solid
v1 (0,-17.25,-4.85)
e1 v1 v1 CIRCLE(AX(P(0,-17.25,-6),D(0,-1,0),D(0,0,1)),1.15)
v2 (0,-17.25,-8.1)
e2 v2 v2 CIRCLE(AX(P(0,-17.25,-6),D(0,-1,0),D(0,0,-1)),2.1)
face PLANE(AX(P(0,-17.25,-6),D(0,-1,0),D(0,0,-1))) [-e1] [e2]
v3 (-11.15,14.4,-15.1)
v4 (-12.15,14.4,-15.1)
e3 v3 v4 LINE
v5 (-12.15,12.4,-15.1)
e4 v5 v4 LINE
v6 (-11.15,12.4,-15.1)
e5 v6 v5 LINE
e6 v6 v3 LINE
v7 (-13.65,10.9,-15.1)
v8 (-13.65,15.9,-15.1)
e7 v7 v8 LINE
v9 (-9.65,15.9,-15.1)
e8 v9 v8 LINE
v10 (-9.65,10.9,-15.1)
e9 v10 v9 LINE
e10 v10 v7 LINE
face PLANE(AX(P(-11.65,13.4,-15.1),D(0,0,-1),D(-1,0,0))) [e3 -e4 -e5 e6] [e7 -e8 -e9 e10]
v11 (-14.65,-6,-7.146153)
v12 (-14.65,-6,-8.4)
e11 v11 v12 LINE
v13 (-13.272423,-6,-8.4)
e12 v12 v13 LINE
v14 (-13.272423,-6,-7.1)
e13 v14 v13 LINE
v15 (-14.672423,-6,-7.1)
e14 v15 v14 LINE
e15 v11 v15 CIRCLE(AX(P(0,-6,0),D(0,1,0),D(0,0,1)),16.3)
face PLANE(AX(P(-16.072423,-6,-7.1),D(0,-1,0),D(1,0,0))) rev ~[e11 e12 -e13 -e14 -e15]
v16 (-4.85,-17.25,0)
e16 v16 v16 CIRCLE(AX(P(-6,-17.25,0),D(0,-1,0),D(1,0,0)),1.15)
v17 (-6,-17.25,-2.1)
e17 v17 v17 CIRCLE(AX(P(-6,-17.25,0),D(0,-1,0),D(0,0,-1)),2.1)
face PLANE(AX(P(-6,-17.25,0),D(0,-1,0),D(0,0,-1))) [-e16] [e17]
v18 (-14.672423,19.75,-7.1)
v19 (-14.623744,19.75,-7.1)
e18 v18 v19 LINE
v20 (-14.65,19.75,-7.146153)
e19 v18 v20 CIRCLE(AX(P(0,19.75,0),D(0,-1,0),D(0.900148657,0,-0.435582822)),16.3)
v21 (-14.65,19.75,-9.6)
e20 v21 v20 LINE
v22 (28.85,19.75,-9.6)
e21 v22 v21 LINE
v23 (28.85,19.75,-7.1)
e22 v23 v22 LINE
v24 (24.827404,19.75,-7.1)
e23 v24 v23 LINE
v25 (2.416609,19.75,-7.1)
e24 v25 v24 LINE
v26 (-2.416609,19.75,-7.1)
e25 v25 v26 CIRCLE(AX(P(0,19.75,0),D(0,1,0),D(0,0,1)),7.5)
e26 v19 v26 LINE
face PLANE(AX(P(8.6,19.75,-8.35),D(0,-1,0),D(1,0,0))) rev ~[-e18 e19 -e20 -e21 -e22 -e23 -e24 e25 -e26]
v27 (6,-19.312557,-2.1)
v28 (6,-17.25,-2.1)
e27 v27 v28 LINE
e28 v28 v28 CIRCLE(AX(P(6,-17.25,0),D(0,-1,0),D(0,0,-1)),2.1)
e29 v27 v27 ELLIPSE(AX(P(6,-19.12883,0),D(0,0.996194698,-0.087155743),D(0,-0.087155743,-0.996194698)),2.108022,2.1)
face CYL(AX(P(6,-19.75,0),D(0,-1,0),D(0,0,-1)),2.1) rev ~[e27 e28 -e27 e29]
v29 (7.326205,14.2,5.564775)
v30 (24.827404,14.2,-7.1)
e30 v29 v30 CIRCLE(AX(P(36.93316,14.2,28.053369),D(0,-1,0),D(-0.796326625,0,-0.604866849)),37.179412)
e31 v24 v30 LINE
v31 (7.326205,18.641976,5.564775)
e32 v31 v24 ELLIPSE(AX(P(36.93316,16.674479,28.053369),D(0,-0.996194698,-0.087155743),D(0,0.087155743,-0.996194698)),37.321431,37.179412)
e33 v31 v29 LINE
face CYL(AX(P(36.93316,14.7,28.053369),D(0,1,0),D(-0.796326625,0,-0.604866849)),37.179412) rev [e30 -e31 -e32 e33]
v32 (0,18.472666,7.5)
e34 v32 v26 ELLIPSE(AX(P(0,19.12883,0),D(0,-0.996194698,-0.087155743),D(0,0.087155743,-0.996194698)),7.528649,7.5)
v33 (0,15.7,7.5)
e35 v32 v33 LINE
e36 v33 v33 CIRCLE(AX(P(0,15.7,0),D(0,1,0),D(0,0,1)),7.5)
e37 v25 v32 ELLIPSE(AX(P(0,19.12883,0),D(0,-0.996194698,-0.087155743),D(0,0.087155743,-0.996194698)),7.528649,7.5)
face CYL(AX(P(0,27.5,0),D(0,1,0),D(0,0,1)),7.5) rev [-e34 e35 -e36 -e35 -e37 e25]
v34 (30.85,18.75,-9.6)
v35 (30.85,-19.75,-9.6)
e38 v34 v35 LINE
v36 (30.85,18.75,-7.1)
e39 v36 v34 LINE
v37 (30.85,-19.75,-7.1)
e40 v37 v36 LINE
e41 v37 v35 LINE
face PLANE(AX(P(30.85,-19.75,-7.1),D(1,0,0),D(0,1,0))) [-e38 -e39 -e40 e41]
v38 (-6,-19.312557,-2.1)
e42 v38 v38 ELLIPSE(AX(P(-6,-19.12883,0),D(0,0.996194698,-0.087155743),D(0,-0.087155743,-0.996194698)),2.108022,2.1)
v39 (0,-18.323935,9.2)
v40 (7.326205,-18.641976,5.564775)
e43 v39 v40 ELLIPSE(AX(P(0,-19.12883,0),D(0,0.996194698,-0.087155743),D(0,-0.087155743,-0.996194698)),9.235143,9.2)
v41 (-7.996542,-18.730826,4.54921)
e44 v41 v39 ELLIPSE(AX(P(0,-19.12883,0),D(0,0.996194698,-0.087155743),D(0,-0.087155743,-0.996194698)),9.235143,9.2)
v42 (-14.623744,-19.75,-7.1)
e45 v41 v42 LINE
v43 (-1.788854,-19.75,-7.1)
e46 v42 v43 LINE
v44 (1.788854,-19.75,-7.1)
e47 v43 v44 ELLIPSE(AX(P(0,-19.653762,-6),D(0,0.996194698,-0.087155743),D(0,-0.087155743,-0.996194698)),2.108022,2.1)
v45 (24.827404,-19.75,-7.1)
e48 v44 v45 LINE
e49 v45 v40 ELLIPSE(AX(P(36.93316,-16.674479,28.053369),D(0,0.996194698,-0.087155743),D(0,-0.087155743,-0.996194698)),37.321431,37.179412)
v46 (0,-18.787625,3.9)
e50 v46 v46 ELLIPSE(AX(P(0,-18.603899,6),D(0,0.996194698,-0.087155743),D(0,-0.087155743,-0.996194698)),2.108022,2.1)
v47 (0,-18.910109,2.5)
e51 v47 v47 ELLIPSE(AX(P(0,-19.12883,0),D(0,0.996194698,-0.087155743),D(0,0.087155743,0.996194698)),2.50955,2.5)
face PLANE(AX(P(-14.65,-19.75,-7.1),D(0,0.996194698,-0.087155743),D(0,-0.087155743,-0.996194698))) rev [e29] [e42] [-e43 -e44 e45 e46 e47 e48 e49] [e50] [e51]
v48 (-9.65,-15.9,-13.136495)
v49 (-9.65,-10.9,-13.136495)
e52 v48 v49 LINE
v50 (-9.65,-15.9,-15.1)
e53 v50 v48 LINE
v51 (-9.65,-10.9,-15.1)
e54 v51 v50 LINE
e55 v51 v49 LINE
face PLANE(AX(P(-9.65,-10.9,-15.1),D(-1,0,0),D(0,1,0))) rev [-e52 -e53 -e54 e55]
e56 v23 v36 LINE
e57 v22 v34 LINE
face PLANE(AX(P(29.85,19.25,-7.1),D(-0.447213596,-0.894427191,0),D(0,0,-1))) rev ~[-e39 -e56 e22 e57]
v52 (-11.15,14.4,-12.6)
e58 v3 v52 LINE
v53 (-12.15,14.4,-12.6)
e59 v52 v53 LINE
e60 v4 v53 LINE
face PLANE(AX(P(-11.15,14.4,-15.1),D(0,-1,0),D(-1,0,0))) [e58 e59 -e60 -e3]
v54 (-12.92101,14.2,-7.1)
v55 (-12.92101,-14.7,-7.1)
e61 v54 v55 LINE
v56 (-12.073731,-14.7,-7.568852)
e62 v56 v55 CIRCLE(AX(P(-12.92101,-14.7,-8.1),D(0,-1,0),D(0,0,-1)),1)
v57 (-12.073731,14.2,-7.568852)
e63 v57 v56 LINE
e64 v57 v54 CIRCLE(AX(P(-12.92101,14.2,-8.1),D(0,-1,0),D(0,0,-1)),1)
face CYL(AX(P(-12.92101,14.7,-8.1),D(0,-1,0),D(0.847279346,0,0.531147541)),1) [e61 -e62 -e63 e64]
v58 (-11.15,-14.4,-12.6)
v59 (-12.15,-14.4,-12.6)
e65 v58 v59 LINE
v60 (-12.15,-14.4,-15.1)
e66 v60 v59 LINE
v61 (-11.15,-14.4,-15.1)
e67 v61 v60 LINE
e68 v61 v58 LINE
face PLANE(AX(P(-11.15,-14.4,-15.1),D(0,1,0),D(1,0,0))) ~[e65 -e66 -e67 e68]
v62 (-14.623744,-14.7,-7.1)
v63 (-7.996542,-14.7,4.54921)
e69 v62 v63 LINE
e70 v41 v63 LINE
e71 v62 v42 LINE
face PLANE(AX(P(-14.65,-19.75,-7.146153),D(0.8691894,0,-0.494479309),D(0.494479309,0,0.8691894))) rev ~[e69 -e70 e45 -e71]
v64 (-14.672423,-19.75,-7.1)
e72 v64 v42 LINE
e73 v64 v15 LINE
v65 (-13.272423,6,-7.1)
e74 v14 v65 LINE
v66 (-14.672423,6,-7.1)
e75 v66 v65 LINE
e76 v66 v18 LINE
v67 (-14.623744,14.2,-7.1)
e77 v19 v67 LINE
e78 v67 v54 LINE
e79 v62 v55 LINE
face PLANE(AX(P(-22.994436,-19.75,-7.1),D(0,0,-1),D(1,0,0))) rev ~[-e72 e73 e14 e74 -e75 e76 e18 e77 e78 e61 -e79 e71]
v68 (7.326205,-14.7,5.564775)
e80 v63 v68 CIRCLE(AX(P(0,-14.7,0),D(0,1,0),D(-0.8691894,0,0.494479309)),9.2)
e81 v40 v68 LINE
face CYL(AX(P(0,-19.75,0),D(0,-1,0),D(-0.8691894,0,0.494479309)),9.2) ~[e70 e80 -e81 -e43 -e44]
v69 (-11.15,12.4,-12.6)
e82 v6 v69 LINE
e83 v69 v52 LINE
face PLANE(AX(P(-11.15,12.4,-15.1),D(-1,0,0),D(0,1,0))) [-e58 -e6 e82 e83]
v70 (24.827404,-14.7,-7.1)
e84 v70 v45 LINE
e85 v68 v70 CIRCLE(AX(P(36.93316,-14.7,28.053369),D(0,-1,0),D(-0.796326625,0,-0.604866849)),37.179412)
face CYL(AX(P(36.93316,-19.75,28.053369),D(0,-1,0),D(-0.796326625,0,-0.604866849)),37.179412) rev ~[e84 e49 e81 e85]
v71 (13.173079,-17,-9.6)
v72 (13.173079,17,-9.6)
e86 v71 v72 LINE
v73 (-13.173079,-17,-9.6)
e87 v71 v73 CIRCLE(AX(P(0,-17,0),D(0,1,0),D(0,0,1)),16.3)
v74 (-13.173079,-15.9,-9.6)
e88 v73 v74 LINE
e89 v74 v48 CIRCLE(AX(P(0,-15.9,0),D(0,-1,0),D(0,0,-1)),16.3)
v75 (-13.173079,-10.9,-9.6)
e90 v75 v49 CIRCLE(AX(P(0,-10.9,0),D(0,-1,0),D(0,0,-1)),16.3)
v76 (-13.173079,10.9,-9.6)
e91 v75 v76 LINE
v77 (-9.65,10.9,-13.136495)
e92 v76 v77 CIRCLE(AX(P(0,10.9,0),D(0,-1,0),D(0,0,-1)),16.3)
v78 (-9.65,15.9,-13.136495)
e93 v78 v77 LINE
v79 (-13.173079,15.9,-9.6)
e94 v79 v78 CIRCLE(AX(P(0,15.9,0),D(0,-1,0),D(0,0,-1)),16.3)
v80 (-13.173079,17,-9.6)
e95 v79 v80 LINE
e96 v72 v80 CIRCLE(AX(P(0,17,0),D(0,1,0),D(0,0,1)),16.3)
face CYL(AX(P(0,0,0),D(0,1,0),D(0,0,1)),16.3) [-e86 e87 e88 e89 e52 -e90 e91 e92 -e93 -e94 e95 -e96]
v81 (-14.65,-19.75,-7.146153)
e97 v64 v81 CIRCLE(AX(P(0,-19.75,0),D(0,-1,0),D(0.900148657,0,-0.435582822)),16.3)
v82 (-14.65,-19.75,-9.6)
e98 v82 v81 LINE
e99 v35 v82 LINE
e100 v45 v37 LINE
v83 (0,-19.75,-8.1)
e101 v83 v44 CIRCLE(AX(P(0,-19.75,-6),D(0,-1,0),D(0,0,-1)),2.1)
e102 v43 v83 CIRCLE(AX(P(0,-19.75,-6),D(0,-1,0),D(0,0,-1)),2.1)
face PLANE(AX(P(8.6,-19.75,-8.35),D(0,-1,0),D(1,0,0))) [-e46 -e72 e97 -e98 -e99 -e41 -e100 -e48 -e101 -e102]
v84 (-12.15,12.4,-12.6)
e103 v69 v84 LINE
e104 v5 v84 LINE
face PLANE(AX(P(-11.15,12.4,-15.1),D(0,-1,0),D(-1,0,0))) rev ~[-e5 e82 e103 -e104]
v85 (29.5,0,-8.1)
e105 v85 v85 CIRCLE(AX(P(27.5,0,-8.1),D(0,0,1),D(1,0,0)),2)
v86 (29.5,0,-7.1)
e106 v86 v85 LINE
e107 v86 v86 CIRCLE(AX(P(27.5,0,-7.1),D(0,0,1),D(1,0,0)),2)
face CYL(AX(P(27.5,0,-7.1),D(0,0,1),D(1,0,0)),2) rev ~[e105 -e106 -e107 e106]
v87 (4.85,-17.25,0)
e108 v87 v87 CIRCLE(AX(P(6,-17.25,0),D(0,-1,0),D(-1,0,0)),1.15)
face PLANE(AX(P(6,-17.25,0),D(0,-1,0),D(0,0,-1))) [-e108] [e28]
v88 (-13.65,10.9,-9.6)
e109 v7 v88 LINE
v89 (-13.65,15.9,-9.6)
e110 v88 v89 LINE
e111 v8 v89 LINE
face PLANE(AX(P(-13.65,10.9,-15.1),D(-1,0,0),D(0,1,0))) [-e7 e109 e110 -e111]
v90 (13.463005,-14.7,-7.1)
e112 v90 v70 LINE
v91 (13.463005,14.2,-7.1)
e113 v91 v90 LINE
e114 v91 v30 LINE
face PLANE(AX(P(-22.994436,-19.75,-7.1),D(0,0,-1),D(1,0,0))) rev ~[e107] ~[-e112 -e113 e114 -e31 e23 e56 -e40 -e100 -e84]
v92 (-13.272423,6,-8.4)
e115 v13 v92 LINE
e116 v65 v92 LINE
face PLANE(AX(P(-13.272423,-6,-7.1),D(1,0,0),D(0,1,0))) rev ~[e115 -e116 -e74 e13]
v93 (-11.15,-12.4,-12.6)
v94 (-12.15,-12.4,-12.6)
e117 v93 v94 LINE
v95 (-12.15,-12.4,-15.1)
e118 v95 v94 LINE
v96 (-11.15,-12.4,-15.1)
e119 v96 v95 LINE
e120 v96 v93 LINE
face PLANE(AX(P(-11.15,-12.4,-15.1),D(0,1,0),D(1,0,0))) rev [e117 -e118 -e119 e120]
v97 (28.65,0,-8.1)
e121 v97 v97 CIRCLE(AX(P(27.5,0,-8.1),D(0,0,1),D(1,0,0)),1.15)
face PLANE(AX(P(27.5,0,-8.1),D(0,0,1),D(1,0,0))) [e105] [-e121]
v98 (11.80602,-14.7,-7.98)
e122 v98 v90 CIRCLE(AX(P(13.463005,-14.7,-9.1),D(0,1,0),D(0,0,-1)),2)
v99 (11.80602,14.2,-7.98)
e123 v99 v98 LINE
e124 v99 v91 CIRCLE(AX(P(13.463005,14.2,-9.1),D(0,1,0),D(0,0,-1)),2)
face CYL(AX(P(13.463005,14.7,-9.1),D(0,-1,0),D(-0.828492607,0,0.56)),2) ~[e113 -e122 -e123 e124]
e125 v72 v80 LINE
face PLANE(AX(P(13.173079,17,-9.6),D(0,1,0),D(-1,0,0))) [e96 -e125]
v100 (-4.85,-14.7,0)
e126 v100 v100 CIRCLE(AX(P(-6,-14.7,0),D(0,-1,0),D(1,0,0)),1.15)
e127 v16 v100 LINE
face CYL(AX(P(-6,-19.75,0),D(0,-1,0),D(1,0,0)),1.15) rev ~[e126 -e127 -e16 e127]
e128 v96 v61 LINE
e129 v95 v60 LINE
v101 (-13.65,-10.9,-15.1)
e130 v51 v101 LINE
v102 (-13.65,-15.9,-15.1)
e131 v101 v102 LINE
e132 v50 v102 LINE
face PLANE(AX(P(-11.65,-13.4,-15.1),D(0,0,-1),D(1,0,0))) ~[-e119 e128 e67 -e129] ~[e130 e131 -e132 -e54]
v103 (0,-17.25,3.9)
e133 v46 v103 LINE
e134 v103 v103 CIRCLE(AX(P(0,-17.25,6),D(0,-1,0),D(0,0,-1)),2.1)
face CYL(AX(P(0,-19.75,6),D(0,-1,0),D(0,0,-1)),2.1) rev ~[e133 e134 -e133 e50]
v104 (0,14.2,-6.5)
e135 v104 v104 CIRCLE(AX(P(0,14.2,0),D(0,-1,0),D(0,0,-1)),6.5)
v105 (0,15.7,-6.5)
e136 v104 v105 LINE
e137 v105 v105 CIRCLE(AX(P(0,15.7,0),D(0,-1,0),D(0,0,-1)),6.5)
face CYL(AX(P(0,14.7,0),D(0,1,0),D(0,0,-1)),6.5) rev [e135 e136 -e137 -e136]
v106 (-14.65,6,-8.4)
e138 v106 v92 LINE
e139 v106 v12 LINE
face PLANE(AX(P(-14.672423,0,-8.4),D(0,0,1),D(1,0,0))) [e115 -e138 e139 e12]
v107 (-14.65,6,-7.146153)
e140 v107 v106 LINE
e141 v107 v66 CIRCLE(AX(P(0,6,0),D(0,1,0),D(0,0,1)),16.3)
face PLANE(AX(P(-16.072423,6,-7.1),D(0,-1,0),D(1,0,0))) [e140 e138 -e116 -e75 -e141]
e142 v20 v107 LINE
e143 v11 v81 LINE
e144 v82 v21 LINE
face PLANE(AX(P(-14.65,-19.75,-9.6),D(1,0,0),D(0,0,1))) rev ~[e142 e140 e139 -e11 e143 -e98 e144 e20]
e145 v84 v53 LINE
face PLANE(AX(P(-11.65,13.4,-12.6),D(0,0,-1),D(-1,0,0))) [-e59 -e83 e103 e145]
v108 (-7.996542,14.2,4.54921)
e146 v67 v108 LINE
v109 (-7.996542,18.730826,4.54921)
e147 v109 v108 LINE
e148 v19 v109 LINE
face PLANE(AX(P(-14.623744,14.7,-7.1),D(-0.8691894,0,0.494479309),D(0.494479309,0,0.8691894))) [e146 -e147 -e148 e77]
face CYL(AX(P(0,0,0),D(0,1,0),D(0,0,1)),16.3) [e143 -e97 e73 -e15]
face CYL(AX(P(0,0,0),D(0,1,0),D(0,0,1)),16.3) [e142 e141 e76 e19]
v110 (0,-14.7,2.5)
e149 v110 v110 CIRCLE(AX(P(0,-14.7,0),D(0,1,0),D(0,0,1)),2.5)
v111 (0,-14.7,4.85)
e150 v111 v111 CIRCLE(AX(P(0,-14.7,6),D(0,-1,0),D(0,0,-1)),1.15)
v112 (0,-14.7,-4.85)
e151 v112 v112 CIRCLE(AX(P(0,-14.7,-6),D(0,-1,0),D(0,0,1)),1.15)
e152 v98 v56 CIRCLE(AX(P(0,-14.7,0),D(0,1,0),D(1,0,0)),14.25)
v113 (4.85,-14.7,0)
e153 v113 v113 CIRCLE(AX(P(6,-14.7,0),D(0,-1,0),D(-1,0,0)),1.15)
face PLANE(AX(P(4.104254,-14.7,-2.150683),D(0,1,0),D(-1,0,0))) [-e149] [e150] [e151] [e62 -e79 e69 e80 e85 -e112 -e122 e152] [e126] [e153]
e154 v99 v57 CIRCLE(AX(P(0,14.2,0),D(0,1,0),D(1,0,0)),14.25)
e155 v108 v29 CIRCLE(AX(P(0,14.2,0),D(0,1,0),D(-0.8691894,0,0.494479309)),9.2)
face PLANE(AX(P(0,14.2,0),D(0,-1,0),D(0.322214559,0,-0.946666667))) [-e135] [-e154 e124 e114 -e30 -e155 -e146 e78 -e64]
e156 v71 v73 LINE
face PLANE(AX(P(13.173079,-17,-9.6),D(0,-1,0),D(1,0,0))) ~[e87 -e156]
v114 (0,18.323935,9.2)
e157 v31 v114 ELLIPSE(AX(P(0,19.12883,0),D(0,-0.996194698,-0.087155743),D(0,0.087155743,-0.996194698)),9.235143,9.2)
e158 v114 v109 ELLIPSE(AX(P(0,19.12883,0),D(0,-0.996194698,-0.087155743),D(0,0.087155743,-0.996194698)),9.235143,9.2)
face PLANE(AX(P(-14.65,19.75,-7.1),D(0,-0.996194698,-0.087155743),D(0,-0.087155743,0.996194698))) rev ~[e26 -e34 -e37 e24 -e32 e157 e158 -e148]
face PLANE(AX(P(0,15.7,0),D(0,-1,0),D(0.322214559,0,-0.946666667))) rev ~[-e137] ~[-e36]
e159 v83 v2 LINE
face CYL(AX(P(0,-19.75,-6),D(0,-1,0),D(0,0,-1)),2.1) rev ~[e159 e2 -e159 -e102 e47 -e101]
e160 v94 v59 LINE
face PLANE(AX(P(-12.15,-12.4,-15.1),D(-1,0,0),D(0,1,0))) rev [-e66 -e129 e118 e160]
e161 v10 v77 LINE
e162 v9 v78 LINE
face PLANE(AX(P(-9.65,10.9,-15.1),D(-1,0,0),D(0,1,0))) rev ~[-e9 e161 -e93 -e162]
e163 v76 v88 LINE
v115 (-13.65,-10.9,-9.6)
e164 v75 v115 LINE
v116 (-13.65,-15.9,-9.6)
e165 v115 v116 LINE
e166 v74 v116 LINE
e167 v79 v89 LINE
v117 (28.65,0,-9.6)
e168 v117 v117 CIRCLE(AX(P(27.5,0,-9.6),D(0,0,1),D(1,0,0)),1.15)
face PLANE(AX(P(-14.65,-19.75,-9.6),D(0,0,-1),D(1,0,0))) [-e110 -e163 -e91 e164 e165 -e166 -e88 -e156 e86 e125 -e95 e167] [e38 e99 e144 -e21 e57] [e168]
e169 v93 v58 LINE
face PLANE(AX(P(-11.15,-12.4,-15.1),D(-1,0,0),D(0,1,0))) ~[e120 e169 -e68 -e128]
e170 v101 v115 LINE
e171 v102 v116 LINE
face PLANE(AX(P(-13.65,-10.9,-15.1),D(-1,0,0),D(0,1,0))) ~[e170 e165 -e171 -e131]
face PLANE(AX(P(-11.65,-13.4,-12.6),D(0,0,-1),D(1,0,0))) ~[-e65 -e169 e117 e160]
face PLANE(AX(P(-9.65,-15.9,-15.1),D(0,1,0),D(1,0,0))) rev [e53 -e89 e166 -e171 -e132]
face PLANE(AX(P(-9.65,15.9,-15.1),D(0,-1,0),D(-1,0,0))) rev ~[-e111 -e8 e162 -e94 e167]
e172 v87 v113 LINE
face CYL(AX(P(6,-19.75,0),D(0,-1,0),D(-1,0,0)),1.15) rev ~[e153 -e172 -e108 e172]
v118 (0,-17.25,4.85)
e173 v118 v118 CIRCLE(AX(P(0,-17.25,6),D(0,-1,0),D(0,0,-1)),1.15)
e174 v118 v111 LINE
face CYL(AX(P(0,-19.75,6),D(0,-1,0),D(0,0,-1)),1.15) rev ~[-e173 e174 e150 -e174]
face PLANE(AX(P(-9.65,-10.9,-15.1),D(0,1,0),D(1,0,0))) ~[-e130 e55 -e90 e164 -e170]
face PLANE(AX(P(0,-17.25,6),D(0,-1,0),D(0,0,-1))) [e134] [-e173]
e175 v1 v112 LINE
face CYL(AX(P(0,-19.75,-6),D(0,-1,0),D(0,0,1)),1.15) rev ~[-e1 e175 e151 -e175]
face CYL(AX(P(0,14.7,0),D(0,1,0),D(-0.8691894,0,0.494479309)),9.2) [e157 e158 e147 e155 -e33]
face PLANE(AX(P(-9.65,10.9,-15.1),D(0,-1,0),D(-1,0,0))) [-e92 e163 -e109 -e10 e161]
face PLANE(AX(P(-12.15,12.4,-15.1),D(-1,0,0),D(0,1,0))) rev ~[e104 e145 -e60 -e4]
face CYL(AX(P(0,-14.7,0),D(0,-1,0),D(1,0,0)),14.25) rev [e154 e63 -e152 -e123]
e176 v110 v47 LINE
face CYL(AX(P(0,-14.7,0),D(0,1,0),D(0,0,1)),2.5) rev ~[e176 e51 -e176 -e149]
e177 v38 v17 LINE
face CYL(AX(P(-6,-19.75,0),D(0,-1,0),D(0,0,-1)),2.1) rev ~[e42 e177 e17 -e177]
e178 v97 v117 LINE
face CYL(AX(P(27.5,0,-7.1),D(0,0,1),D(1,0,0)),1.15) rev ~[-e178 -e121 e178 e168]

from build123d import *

# Parameters (mm, degrees)
SKETCH_1_R               = 16.3
EXTRUDE_1_DEPTH          = 19.75
SKETCH_2_W               = 46.5
SKETCH_2_H               = 2.5
EXTRUDE_2_DEPTH          = 39.5
SKETCH_3_W               = 54.844436064
SKETCH_3_H               = 25.506740045
CUT_EXTRUDE_1_DEPTH      = 50
EXTRUDE_3_DEPTH          = 5.05
SKETCH_5_R               = 14.25
CUT_EXTRUDE_2_DEPTH      = 29.4
SKETCH_6_R               = 2.5
CUT_EXTRUDE_3_DEPTH      = 50.668048079
CUT_EXTRUDE_6_REACH      = 55.295
SKETCH_9_R               = 7.5
SKETCH_12_R              = 1.15
CUT_EXTRUDE_9_DEPTH      = 41.867774591
SKETCH_13_R              = 2
CUT_EXTRUDE_10_DEPTH     = 1
SKETCH_15_W              = 2.8
SKETCH_15_H              = 12
CUT_EXTRUDE_12_DEPTH     = 1.3
EXTRUDE_5_REACH          = 46.665
EXTRUDE_5_END_RADIUS     = 16.3
SKETCH_16_W              = 4
SKETCH_16_H              = 5
SKETCH_17_W              = 1
SKETCH_17_H              = 2
CUT_EXTRUDE_13_DEPTH     = 2.5
SKETCH_19_R              = 8.51898124
SKETCH_19_R_2            = 6.5
EXTRUDE_6_DEPTH          = 2.25
CUT_EXTRUDE_18_REACH     = 55.295
SKETCH_20_R              = 1.15
PATTERN_CIRCULAR_1_COUNT = 4
CUT_EXTRUDE_8_DEPTH      = 54.084861307
SKETCH_18_W              = 26.346157216
SKETCH_18_H              = 2.75
CUT_EXTRUDE_16_DEPTH     = 12.5
FILLET_1_R               = 2
FILLET_2_R               = 1
SKETCH_21_R              = 2.1
CUT_EXTRUDE_19_DEPTH     = 2.5
CUT_EXTRUDE_START        = -10
SKETCH_22_R              = 7.5
CUT_EXTRUDE_23_DEPTH     = 10
EXTRUDE_START            = -1
SKETCH_23_R              = 7.5
SKETCH_23_R_2            = 6.5
EXTRUDE_7_DEPTH          = 1
MOVE_FACE_3_BY           = 0.5
SKETCH_27_W              = 1
SKETCH_27_H              = 39.5
CUT_EXTRUDE_24_DEPTH     = 41.867774591
CHAMFER_1_SIZE           = 2
CHAMFER_1_SIZE2          = 1


with BuildPart() as part:
    # 草图1 → 凸台-拉伸1 (new, symmetric)
    with BuildSketch(Plane(origin=(0, 0, 0), x_dir=(1, 0, 0), z_dir=(0, 1, 0))):
        with Locations(Location((0, 0, 0), (0, 0, 270))):
            Circle(SKETCH_1_R)
    extrude(amount=EXTRUDE_1_DEPTH, both=True)

    # 草图2 → 凸台-拉伸2 (add, through all)
    with BuildSketch(Plane.XZ.offset(19.75)):
        with Locations((8.6, -8.35)):
            Rectangle(SKETCH_2_W, SKETCH_2_H)
    extrude(amount=-EXTRUDE_2_DEPTH)

    # 草图3 → 切除-拉伸1 (cut)
    with BuildSketch(Plane.XZ.offset(19.75)):
        with Locations((4.427781968, 5.653370022)):
            Rectangle(SKETCH_3_W, SKETCH_3_H)
    extrude(amount=-CUT_EXTRUDE_1_DEPTH, mode=Mode.SUBTRACT)

    # 草图4 → 凸台-拉伸3 (add)
    with BuildSketch(Plane.XZ.offset(19.75)):
        with BuildLine():
            Line((-14.65, -7.146152811), (-7.996542478, 4.549209646))
            ThreePointArc((-7.996542478, 4.549209646), (-0.608425307, 9.179859402), (7.326204954, 5.564775015))
            ThreePointArc((7.326204954, 5.564775015), (15.146356853, -2.073759423), (24.85, -7.107773105))
            Line((24.85, -7.107773105), (-14.65, -7.146152811))
        make_face()
    extrude_3 = extrude(amount=-EXTRUDE_3_DEPTH)

    # 镜向1: 凸台-拉伸3 across plane
    add(extrude_3.mirror(Plane.ZX))

    # 草图5 → 切除-拉伸2 (cut)
    with BuildSketch(Plane(origin=(0, -14.7, 0), x_dir=(1, 0, 0), z_dir=(0, 1, 0))):
        Circle(SKETCH_5_R)
    extrude(amount=CUT_EXTRUDE_2_DEPTH, mode=Mode.SUBTRACT)

    # 草图6 → 切除-拉伸3 (cut, through all)
    with BuildSketch(Plane(origin=(0, -14.7, 0), x_dir=(1, 0, 0), z_dir=(0, 1, 0))):
        with Locations(Location((0, 0, 0), (0, 0, 270))):
            Circle(SKETCH_6_R)
    extrude(amount=-CUT_EXTRUDE_3_DEPTH, mode=Mode.SUBTRACT)

    # 草图9 → 切除-拉伸6 (cut, up to next)
    with BuildSketch(Plane(origin=(0, 19.75, 0), x_dir=(1, 0, 0), z_dir=(0, 1, 0)), mode=Mode.PRIVATE) as cut_extrude_6_sk1:
        with Locations(Location((0, 0, 0), (0, 0, 270))):
            Circle(SKETCH_9_R)
    cut_extrude_6_tool1 = extrude(cut_extrude_6_sk1.sketch, amount=-CUT_EXTRUDE_6_REACH, mode=Mode.PRIVATE) & part.part
    add(cut_extrude_6_tool1.solids().sort_by_distance((0, 19.75, 0))[0], mode=Mode.SUBTRACT)

    # 草图12 → 切除-拉伸9 (cut, through all)
    with BuildSketch(Plane.XY.offset(-7.1)):
        with Locations((27.5, 0)):
            Circle(SKETCH_12_R)
    extrude(amount=-CUT_EXTRUDE_9_DEPTH, mode=Mode.SUBTRACT)

    # 草图13 → 切除-拉伸10 (cut)
    with BuildSketch(Plane.XY.offset(-7.1)):
        with Locations((27.5, 0)):
            Circle(SKETCH_13_R)
    extrude(amount=-CUT_EXTRUDE_10_DEPTH, mode=Mode.SUBTRACT)

    # 草图15 → 切除-拉伸12 (cut)
    with BuildSketch(Plane.XY.offset(-7.1)):
        with Locations((-14.672423113, 0)):
            Rectangle(SKETCH_15_W, SKETCH_15_H)
    extrude(amount=-CUT_EXTRUDE_12_DEPTH, mode=Mode.SUBTRACT)

    # 凸台-拉伸5: up to this cylinder (the profile starts outside it)
    extrude_5_end = Plane(origin=(0, 13.4, 0), z_dir=(0, -1, 0)) * Cylinder(EXTRUDE_5_END_RADIUS, 126.93, mode=Mode.PRIVATE)
    # 草图16 → 凸台-拉伸5 (add, up to the surface)
    with BuildSketch(Plane(origin=(0, 0, -15.1), x_dir=(-1, 0, 0), z_dir=(0, 0, -1)), mode=Mode.PRIVATE) as extrude_5_sk1:
        with Locations((11.65, 13.4)):
            Rectangle(SKETCH_16_W, SKETCH_16_H)
    extrude_5_tool1 = extrude(extrude_5_sk1.sketch, amount=-EXTRUDE_5_REACH, mode=Mode.PRIVATE) - extrude_5_end
    extrude_5 = extrude_5_tool1.solids().sort_by_distance((-11.65, 13.4, -15.1))[0]
    add(extrude_5)

    # 镜向4: 凸台-拉伸5 across plane
    add(extrude_5.mirror(Plane.ZX))

    # 草图17 → 切除-拉伸13 (cut)
    with BuildSketch(Plane(origin=(0, 0, -15.1), x_dir=(-1, 0, 0), z_dir=(0, 0, -1))):
        with Locations((11.65, 13.4)):
            Rectangle(SKETCH_17_W, SKETCH_17_H)
    cut_extrude_13 = extrude(amount=-CUT_EXTRUDE_13_DEPTH, mode=Mode.SUBTRACT)

    # 镜向5: 切除-拉伸13 across plane
    add(cut_extrude_13.mirror(Plane.ZX), mode=Mode.SUBTRACT)

    # 草图19 → 凸台-拉伸6 (add)
    with BuildSketch(Plane(origin=(0, 19.75, 0), x_dir=(1, 0, 0), z_dir=(0, 1, 0))):
        Circle(SKETCH_19_R)
        with Locations(Location((0, 0, 0), (0, 0, 270))):
            Circle(SKETCH_19_R_2, mode=Mode.SUBTRACT)
    extrude(amount=-EXTRUDE_6_DEPTH)

    # 草图20 → 切除-拉伸18 (cut, up to next)
    with BuildSketch(Plane.XZ.offset(19.75), mode=Mode.PRIVATE) as cut_extrude_18_sk1:
        with Locations(Location((0, 6, 0), (0, 0, 270))):
            Circle(SKETCH_20_R)
    cut_extrude_18_tool1 = extrude(cut_extrude_18_sk1.sketch, amount=-CUT_EXTRUDE_18_REACH, mode=Mode.PRIVATE) & part.part
    cut_extrude_18 = cut_extrude_18_tool1.solids().sort_by_distance((0, -19.75, 6))[0]
    add(cut_extrude_18, mode=Mode.SUBTRACT)

    # 阵列(圆周)1: 切除-拉伸18 ×4 about axis
    pattern_circular_1_axis = Axis((0, 0, 0), (0, 1, 0))
    for i in range(1, PATTERN_CIRCULAR_1_COUNT):
        add(cut_extrude_18.rotate(pattern_circular_1_axis, i * 360 / PATTERN_CIRCULAR_1_COUNT), mode=Mode.SUBTRACT)

    # 草图7 → 切除-拉伸8 (cut, through all)
    with BuildSketch(Plane.ZY.offset(14.65)):
        Polygon((-7.1, 19.75), (9.2, 18.323934785), (9.2, 19.75), align=None)
    cut_extrude_8 = extrude(amount=-CUT_EXTRUDE_8_DEPTH, mode=Mode.SUBTRACT)

    # 镜向3: 切除-拉伸8 across plane
    add(cut_extrude_8.mirror(Plane.ZX), mode=Mode.SUBTRACT)

    # 草图18 → 切除-拉伸16 (cut)
    with BuildSketch(Plane(origin=(0, 0, -9.6), x_dir=(-1, 0, 0), z_dir=(0, 0, -1))):
        with Locations((0, 18.375)):
            Rectangle(SKETCH_18_W, SKETCH_18_H)
    cut_extrude_16 = extrude(amount=CUT_EXTRUDE_16_DEPTH, mode=Mode.SUBTRACT)

    # 镜向6: 切除-拉伸16 across plane
    add(cut_extrude_16.mirror(Plane.ZX), mode=Mode.SUBTRACT)

    # 圆角1
    fillet_1_edges = [part.edges().sort_by_distance(p)[0] for p in [
        (12.355262037, 0, -7.1),
    ]]
    fillet(fillet_1_edges, radius=FILLET_1_R)

    # 圆角2
    fillet_2_edges = [part.edges().sort_by_distance(p)[0] for p in [
        (-12.355262037, 0, -7.1),
    ]]
    fillet(fillet_2_edges, radius=FILLET_2_R)

    # 草图21 → 切除-拉伸19 (cut)
    with BuildSketch(Plane.XZ.offset(19.75)):
        with Locations(Location((0, 6, 0), (0, 0, 270))):
            Circle(SKETCH_21_R)
        with Locations(Location((-6, 0, 0), (0, 0, 270))):
            Circle(SKETCH_21_R)
        with Locations(Location((6, 0, 0), (0, 0, 270))):
            Circle(SKETCH_21_R)
        with Locations(Location((0, -6, 0), (0, 0, 270))):
            Circle(SKETCH_21_R)
    extrude(amount=-CUT_EXTRUDE_19_DEPTH, mode=Mode.SUBTRACT)

    # 草图22 → 切除-拉伸23 (cut)
    with BuildSketch(Plane.XZ.offset(-17.5).offset(CUT_EXTRUDE_START)):
        with Locations(Location((0, 0, 0), (0, 0, 90))):
            Circle(SKETCH_22_R)
    extrude(amount=CUT_EXTRUDE_23_DEPTH, mode=Mode.SUBTRACT)

    # 草图23 → 凸台-拉伸7 (add)
    with BuildSketch(Plane.XZ.offset(-14.7).offset(EXTRUDE_START)):
        with Locations(Location((0, 0, 0), (0, 0, 288.796905035))):
            Circle(SKETCH_23_R)
        with Locations(Location((0, 0, 0), (0, 0, 270))):
            Circle(SKETCH_23_R_2, mode=Mode.SUBTRACT)
    extrude(amount=EXTRUDE_7_DEPTH)

    # Move Face 3: a face moved outward by 0.5
    extrude(part.faces().sort_by_distance((5.10183032, 14.7, -8.3875))[0], amount=MOVE_FACE_3_BY, dir=(0, -1, 0))

    # 草图27 → 切除-拉伸24 (cut, through all)
    with BuildSketch(Plane.XY.offset(-7.1)):
        with Locations((31.35, 0)):
            Rectangle(SKETCH_27_W, SKETCH_27_H)
    extrude(amount=-CUT_EXTRUDE_24_DEPTH, mode=Mode.SUBTRACT)

    # 倒角1
    chamfer_1_edges = [part.edges().sort_by_distance(p)[0] for p in [
        (30.85, 19.75, -8.35),
    ]]
    chamfer_1_side = [part.faces().sort_by_distance(p)[0] for p in [
        (8.193237095, 19.75, -8.362550861),
    ]]
    chamfer(chamfer_1_edges, length=CHAMFER_1_SIZE, length2=CHAMFER_1_SIZE2, reference=chamfer_1_side[0])


solid = part.part
